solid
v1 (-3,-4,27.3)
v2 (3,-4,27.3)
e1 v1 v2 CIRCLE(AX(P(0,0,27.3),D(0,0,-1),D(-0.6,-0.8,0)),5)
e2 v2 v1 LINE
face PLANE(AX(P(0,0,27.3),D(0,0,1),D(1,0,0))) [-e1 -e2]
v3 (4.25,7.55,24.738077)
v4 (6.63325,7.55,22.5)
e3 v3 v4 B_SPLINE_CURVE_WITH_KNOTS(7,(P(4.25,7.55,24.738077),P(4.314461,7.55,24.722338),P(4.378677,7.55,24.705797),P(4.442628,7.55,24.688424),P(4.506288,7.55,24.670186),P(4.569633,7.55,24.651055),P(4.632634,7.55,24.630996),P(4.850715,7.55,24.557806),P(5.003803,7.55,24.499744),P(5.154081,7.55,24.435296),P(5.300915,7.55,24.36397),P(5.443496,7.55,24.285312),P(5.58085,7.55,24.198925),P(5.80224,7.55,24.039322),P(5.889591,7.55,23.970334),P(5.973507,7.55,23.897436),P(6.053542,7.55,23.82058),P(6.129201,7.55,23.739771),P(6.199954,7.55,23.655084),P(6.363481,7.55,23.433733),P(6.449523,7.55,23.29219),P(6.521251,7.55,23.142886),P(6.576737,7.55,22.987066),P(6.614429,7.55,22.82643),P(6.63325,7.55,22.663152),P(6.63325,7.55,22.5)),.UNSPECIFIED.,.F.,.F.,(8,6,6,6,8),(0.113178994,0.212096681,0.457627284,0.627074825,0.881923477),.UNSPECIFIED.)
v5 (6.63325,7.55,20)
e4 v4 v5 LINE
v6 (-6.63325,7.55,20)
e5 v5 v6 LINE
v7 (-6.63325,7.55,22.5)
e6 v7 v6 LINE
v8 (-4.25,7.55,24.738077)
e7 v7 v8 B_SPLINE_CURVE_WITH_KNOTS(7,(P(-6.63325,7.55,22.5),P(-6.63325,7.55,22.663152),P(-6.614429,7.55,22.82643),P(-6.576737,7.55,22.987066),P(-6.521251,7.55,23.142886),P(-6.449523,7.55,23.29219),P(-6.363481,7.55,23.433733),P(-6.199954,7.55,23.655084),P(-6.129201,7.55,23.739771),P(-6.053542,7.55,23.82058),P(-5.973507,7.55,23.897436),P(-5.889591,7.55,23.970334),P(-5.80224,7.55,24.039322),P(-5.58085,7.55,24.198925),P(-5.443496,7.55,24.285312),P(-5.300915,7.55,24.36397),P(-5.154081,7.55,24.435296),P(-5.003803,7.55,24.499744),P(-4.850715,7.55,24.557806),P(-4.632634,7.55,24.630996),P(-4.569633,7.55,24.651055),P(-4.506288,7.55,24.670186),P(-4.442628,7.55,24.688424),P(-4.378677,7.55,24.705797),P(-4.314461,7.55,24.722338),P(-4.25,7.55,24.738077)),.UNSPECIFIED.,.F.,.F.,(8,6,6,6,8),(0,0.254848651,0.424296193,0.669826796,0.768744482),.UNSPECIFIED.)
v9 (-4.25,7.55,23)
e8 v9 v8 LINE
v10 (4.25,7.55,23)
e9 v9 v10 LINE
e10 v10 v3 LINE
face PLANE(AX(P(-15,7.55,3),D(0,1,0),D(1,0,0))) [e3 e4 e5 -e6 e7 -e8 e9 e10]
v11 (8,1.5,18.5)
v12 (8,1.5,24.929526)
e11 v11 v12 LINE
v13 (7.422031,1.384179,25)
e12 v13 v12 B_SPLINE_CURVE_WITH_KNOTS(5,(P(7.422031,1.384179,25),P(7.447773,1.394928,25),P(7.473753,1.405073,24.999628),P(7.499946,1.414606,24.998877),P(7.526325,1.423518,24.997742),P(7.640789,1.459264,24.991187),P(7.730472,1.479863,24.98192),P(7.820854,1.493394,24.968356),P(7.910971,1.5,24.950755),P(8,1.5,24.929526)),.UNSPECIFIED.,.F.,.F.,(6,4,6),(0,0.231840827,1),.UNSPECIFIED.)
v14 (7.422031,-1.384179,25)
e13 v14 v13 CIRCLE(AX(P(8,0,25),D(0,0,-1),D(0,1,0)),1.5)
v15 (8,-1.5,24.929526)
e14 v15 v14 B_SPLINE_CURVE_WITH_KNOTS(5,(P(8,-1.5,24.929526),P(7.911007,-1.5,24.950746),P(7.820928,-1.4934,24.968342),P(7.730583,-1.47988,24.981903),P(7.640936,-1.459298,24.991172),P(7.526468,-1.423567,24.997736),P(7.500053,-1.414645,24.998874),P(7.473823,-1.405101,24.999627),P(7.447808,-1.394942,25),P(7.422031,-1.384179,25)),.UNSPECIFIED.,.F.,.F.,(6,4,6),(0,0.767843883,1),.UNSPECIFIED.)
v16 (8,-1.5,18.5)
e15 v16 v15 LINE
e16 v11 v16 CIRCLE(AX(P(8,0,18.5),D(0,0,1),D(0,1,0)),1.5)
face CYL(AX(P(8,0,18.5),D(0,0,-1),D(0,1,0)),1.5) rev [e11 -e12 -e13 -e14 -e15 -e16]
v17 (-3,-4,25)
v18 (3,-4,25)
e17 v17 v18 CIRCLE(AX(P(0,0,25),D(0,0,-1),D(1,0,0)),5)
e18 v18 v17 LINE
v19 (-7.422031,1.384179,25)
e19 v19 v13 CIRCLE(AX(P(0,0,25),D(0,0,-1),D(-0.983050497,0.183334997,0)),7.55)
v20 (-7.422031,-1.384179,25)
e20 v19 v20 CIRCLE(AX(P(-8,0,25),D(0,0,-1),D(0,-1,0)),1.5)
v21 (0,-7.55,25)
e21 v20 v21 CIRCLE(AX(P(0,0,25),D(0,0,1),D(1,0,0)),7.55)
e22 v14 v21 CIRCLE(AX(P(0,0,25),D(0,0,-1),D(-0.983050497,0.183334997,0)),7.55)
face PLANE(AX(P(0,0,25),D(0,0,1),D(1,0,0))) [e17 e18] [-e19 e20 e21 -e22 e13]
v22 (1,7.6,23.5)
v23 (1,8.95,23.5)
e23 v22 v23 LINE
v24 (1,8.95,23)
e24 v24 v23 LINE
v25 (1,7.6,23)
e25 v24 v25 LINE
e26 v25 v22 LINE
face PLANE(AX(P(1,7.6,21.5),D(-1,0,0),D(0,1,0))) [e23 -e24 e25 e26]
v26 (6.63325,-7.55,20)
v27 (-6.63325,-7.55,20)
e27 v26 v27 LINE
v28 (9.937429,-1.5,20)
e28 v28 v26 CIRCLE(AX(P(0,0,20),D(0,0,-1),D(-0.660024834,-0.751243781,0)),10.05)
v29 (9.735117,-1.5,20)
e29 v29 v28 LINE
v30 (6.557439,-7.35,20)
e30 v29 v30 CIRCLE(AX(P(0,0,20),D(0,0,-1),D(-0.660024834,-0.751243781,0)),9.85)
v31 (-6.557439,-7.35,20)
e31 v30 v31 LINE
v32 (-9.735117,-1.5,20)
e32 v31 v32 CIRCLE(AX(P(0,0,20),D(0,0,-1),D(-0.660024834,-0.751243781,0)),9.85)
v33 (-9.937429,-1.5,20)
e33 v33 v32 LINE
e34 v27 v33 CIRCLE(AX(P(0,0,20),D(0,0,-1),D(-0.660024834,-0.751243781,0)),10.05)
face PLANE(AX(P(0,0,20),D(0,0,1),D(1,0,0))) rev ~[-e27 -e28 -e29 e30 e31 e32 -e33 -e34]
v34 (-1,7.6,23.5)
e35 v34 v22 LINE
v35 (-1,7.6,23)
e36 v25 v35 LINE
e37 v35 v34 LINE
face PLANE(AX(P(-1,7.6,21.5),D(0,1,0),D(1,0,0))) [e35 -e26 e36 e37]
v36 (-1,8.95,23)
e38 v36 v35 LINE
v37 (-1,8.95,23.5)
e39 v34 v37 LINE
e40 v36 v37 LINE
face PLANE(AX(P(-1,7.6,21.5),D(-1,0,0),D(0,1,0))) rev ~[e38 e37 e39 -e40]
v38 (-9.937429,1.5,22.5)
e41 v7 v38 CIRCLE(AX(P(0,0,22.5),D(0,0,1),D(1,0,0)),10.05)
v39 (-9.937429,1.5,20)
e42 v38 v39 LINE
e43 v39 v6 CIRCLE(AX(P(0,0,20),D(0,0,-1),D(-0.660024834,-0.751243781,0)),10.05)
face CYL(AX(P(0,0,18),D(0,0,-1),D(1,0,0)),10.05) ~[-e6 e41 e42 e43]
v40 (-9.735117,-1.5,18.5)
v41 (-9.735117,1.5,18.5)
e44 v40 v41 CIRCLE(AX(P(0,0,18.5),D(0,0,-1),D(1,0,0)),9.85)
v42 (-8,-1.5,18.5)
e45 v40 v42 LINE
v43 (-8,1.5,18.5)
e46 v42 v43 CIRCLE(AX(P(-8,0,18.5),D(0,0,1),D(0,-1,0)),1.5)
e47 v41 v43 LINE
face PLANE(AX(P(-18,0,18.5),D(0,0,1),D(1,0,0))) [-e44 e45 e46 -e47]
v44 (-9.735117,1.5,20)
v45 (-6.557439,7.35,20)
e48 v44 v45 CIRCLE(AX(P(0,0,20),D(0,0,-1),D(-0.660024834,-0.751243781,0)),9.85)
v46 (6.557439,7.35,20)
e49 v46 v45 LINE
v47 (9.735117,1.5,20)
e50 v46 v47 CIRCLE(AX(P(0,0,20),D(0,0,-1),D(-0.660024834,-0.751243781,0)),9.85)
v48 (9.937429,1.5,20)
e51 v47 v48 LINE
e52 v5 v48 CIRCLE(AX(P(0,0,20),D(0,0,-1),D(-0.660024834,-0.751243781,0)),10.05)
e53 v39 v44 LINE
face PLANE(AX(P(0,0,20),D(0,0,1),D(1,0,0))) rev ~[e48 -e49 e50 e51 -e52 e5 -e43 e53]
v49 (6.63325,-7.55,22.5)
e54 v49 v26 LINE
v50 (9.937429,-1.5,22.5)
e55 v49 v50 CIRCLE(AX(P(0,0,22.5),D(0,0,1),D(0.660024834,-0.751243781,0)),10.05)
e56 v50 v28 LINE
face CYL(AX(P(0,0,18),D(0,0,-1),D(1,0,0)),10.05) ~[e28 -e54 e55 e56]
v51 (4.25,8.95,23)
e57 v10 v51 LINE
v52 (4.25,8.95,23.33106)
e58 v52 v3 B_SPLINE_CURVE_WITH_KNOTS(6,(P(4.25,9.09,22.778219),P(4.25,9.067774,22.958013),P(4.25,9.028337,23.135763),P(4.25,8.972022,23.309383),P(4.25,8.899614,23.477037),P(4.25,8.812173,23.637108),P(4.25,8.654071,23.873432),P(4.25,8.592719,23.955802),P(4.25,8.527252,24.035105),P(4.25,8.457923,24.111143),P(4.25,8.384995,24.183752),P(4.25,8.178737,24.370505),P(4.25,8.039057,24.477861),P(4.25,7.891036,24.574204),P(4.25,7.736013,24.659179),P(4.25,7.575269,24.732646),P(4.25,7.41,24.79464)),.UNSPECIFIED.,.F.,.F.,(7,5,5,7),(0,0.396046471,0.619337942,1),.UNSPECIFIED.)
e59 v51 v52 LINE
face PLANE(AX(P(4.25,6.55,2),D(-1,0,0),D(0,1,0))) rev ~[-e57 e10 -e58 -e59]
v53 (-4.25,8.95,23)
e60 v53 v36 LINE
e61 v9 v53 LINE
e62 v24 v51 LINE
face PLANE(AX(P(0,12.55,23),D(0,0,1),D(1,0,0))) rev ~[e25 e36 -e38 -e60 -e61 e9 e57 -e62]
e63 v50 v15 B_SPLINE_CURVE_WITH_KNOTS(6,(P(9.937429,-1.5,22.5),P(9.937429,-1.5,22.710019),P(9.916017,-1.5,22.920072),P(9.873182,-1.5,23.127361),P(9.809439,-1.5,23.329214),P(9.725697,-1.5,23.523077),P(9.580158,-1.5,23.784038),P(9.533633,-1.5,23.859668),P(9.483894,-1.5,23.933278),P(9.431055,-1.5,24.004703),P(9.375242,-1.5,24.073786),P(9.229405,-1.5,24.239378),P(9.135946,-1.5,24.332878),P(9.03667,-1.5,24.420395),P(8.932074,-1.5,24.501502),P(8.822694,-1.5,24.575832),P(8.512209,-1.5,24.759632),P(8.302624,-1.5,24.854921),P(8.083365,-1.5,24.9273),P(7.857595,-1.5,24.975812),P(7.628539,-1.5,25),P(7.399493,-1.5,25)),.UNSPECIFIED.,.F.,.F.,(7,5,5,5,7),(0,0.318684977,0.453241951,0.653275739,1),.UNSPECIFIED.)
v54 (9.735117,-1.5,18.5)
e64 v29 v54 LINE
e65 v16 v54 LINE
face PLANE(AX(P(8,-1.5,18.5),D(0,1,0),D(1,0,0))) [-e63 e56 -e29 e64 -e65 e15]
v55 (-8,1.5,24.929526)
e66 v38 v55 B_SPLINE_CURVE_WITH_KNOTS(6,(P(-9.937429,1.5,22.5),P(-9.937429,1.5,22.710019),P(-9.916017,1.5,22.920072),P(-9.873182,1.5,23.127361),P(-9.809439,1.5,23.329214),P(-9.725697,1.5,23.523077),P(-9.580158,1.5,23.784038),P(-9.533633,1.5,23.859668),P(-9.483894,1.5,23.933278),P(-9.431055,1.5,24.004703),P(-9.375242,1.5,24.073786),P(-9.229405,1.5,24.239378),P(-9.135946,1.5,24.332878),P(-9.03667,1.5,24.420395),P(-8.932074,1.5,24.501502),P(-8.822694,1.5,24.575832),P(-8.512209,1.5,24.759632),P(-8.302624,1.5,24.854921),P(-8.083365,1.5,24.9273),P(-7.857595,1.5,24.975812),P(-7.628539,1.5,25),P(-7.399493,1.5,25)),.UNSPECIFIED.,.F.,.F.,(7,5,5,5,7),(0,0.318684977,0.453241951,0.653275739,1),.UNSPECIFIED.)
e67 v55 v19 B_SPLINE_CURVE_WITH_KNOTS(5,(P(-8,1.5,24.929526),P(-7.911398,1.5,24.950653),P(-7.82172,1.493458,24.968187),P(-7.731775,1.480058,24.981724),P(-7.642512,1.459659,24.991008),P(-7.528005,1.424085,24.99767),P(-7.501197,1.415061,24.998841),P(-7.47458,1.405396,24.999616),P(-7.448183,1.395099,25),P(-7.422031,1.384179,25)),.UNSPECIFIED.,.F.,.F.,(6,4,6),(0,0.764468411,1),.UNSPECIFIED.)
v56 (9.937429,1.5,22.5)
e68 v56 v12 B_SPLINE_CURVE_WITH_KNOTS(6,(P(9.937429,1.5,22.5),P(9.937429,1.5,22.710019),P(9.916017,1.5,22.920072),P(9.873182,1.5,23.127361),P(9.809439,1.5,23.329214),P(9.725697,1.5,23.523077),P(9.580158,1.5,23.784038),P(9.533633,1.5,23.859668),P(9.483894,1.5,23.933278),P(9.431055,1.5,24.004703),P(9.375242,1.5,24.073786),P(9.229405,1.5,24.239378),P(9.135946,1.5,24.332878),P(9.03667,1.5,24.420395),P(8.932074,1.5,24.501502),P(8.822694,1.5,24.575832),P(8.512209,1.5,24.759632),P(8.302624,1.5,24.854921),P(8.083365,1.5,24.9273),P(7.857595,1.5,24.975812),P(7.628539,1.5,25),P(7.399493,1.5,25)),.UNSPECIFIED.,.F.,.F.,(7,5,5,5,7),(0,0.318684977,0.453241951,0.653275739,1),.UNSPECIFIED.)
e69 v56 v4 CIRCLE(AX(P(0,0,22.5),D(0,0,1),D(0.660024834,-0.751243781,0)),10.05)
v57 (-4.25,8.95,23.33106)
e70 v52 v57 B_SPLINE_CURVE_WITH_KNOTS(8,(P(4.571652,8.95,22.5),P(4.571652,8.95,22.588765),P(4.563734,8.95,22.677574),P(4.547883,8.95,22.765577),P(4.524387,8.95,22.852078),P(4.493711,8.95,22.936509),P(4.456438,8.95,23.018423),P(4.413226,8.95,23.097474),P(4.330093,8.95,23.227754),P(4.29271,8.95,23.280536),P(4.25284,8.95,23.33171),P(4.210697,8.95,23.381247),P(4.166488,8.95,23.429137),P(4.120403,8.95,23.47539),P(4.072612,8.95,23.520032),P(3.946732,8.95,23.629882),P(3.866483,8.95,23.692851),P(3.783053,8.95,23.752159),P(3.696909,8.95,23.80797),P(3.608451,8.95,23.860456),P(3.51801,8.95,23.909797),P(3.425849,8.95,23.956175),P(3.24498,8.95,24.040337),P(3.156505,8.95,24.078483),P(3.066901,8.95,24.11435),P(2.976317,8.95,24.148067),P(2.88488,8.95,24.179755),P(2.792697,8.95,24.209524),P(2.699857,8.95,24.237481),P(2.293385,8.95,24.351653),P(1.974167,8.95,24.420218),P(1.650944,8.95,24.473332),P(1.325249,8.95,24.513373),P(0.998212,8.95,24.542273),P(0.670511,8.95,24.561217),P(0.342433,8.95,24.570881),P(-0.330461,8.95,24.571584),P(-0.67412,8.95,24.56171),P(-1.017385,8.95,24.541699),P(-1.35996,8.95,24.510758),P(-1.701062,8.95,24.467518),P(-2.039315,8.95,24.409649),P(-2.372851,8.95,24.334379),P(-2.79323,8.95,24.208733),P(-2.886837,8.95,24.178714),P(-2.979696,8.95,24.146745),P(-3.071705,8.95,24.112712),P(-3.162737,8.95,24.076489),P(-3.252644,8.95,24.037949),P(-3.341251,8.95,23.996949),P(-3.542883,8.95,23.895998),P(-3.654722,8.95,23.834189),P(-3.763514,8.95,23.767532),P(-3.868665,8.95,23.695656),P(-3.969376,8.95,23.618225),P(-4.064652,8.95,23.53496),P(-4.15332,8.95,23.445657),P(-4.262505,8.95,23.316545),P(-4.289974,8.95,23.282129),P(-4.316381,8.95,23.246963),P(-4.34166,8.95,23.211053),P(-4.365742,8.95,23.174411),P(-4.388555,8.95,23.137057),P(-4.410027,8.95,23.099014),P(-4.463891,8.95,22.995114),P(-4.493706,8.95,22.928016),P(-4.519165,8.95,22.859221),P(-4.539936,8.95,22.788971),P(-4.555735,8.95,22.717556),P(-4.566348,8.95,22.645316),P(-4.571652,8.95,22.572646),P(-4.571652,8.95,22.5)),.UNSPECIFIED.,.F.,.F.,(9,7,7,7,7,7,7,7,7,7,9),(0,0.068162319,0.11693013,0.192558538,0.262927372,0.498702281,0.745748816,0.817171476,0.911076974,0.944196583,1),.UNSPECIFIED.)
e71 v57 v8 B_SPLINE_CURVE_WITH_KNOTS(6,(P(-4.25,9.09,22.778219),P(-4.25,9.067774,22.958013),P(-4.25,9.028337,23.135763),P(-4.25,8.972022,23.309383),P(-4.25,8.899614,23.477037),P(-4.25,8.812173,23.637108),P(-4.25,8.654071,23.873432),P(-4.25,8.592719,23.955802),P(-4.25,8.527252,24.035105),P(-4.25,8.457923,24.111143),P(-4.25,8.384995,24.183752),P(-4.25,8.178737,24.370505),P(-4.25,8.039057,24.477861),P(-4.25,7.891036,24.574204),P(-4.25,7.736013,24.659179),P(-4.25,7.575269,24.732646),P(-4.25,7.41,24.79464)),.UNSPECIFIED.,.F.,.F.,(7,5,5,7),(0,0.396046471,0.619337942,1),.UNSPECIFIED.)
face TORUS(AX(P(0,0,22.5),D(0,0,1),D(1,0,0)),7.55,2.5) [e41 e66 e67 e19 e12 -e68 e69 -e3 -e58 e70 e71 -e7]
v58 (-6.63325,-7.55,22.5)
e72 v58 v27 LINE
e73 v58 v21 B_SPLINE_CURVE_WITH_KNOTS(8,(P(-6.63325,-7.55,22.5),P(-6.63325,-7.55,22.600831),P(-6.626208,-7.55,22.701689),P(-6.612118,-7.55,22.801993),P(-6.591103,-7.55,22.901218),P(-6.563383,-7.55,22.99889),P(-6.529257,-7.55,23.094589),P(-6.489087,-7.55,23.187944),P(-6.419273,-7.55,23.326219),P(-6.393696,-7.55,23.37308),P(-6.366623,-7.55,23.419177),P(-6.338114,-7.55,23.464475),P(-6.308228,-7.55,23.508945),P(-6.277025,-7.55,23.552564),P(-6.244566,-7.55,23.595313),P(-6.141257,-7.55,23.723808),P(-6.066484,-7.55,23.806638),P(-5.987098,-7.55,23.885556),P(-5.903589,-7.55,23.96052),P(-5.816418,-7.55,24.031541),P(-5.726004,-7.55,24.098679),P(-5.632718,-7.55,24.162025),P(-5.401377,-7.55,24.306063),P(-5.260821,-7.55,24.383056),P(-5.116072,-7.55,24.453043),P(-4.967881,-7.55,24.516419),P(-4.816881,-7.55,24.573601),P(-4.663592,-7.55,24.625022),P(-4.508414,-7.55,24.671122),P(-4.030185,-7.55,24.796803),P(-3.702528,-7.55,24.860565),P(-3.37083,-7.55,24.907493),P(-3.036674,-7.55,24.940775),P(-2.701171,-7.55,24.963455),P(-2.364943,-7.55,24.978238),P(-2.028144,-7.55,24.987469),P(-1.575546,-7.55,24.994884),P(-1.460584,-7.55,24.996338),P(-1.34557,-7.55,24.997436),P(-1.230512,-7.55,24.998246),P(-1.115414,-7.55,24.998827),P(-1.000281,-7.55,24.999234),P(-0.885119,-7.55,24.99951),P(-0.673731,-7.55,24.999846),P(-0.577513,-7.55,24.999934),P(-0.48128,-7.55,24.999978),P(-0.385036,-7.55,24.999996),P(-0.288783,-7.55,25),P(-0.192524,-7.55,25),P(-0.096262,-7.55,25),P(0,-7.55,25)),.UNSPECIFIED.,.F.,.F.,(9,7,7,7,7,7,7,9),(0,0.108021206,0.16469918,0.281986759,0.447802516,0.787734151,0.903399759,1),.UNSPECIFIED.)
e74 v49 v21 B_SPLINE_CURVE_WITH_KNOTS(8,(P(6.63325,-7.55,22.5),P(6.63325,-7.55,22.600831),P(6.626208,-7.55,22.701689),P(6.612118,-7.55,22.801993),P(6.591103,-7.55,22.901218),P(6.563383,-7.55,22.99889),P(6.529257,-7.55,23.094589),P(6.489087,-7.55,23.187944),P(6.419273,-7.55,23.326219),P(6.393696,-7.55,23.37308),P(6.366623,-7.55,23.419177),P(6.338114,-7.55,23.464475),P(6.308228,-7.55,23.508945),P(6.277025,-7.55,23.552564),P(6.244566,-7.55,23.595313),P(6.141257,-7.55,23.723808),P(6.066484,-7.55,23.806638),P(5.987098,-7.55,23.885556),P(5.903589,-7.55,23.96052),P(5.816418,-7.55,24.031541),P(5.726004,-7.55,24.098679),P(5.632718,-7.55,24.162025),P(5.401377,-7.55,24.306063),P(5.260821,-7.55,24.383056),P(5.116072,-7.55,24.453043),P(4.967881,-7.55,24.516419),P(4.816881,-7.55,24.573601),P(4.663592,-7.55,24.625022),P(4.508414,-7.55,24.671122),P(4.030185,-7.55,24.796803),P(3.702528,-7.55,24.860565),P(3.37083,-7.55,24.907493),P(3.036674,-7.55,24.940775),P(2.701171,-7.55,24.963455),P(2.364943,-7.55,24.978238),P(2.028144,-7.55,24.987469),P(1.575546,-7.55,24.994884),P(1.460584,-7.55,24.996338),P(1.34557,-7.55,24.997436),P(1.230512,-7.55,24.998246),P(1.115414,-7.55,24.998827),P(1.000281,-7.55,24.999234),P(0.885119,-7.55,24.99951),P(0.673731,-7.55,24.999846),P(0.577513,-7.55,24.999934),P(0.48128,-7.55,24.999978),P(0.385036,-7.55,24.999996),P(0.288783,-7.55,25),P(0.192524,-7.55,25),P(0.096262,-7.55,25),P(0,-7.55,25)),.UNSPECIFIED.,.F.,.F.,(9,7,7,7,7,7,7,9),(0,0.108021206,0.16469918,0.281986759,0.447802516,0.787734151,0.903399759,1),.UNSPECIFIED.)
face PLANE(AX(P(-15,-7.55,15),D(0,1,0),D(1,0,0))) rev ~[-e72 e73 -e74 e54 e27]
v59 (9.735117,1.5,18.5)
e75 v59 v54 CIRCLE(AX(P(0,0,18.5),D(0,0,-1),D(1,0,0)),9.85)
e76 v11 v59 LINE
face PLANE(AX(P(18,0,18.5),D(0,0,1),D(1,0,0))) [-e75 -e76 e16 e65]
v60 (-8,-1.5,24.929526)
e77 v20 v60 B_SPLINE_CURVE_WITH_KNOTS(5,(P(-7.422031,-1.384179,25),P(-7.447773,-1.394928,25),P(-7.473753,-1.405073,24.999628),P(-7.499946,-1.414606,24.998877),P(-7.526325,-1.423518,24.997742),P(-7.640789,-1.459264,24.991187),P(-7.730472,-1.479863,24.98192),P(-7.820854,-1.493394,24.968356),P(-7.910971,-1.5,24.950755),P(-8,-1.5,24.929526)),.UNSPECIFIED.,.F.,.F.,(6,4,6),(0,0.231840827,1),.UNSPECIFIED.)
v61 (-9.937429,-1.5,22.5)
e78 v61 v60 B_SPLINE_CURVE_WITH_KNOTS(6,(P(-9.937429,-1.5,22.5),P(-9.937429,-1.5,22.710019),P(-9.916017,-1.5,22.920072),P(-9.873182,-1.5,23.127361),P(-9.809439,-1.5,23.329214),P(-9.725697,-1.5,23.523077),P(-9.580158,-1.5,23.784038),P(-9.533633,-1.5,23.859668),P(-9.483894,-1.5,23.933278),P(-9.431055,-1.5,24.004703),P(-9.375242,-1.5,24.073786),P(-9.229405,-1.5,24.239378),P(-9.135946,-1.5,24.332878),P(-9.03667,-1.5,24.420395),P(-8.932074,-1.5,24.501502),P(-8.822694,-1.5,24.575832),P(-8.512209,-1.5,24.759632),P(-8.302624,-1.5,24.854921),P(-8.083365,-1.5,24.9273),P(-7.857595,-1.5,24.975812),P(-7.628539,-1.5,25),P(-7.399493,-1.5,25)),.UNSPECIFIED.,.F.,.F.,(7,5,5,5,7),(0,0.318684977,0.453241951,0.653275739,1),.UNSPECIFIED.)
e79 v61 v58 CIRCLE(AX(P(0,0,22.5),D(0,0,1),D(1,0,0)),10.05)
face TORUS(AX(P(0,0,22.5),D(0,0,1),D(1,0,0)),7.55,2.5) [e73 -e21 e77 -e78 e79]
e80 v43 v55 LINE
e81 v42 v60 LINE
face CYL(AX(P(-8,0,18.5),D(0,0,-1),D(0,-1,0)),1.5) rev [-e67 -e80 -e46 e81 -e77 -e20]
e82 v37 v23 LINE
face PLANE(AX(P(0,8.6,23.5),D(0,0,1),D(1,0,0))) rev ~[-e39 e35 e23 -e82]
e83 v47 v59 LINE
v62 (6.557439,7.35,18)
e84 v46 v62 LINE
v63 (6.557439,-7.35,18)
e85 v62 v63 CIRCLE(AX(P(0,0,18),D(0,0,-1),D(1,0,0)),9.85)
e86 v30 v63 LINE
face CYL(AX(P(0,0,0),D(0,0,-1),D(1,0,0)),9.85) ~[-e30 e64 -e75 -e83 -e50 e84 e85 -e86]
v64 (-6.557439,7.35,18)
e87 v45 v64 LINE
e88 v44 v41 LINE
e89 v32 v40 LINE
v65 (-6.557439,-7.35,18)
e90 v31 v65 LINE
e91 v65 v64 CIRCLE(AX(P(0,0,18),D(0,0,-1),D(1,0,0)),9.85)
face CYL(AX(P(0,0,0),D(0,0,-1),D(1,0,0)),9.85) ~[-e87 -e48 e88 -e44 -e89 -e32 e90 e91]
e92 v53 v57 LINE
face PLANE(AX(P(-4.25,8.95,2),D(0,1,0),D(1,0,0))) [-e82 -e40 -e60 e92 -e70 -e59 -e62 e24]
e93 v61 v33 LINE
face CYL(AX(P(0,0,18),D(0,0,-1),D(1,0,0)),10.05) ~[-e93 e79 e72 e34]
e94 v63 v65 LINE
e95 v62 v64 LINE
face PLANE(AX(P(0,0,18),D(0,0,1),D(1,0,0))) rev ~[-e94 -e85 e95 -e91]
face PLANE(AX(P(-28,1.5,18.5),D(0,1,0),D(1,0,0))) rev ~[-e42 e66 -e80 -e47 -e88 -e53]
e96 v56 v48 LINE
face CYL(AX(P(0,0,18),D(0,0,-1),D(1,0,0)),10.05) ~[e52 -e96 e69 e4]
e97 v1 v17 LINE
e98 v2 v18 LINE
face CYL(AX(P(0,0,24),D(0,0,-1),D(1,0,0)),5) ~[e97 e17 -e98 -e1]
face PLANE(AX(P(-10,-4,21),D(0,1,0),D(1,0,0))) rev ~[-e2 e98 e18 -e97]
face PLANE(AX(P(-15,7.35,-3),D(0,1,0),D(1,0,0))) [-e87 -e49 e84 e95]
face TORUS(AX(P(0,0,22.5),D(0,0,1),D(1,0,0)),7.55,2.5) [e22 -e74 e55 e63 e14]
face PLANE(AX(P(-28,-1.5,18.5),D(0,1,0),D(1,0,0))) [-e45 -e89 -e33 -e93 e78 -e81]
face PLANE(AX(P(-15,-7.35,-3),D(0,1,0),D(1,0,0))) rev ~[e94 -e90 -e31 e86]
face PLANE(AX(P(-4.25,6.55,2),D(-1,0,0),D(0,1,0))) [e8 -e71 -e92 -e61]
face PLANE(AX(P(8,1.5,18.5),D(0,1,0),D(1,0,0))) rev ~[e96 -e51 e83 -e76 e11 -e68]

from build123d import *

# Parameters (mm, degrees)
BOX010_W          = 30
BOX010_H          = 10
BOX010_DEPTH      = 30
BOX011_W          = 30
BOX011_H          = 10
BOX011_DEPTH      = 30
CYLINDER003_R     = 10.05
CYLINDER003_DEPTH = 20
FILLET002_R       = 2
THICKNESS_T       = -0.2
BOX017_W          = 20
BOX017_H          = 10
BOX017_DEPTH      = 10
CYLINDER005_R     = 5
CYLINDER005_DEPTH = 3.3
PAD002_DEPTH      = 20
BOX016_W          = 2
BOX016_H          = 2
BOX016_DEPTH      = 2
BOX015_W          = 30
BOX015_H          = 10
BOX015_DEPTH      = 30
BOX013_W          = 30
BOX013_H          = 10
BOX013_DEPTH      = 30
BOX014_W          = 8.5
BOX014_H          = 2.4
BOX014_DEPTH      = 44
BOX012_W          = 30
BOX012_H          = 10
BOX012_DEPTH      = 30
CYLINDER004_R     = 10.05
CYLINDER004_DEPTH = 7
FILLET003_R       = 2.5


with BuildPart() as cubo011:
    # Box010 → Box010 (new body)
    with BuildSketch(Plane(origin=(-15, 7.55, -3), x_dir=(1, 0, 0), z_dir=(0, 0, 1))):
        with Locations((15, 5)):
            Rectangle(BOX010_W, BOX010_H)
    extrude(amount=BOX010_DEPTH)


with BuildPart() as cubo012:
    # Box011 → Box011 (new body)
    with BuildSketch(Plane(origin=(-15, -17.55, -3), x_dir=(1, 0, 0), z_dir=(0, 0, 1))):
        with Locations((15, 5)):
            Rectangle(BOX011_W, BOX011_H)
    extrude(amount=BOX011_DEPTH)


with BuildPart() as thickness:
    # Cylinder003 → Cylinder003 (new body)
    with BuildSketch(Plane.XY):
        Circle(CYLINDER003_R)
    extrude(amount=CYLINDER003_DEPTH)

    # Fillet002
    fillet002_edges = [thickness.edges().sort_by_distance(p)[0] for p in [
        (-10.05, 0, 0),
    ]]
    fillet(fillet002_edges, radius=FILLET002_R)

    # Cut010: cut Cubo012
    add(cubo012.part, mode=Mode.SUBTRACT)

    # Cut011: cut Cubo011
    add(cubo011.part, mode=Mode.SUBTRACT)

    # Thickness
    thickness_openings = [thickness.faces().sort_by_distance(p)[0] for p in [
        (0, 0, 20),
    ]]
    offset(amount=THICKNESS_T, openings=thickness_openings)


with BuildPart() as cubo018:
    # Box017 → Box017 (new body)
    with BuildSketch(Plane(origin=(-10, -14, -3), x_dir=(1, 0, 0), z_dir=(0, 0, 1))):
        with Locations((10, 5)):
            Rectangle(BOX017_W, BOX017_H)
    extrude(amount=BOX017_DEPTH)


with BuildPart() as partefinal001:
    # Cylinder005 → Cylinder005 (new body)
    with BuildSketch(Plane.XY):
        Circle(CYLINDER005_R)
    extrude(amount=CYLINDER005_DEPTH)

    # Cut017: cut Cubo018
    add(cubo018.part, mode=Mode.SUBTRACT)


with BuildPart() as partefinal001_1:
    # Cut017 placement: moved
    add(partefinal001.part.moved(Location((0, 0, 6))))


with BuildPart() as pad002:
    # Sketch002 → Pad002 (new body)
    with BuildSketch(Plane.XY):
        with BuildLine():
            ThreePointArc((-10, 1.5), (-11.5, 0), (-10, -1.5))
            Line((-10, -1.5), (10, -1.5))
            ThreePointArc((10, -1.5), (11.5, 0), (10, 1.5))
            Line((-10, 1.5), (10, 1.5))
        make_face()
    extrude(amount=PAD002_DEPTH)


with BuildPart() as clone_of_pad004:
    # Clone004 base: copy of Pad002
    add(pad002.part)


with BuildPart() as clone_of_pad004_1:
    # Clone004 placement: moved
    add(clone_of_pad004.part.moved(Location((18, 0, 0.5))))


with BuildPart() as clone_of_pad003:
    # Clone003 base: copy of Pad002
    add(pad002.part)


with BuildPart() as clone_of_pad003_1:
    # Clone003 placement: moved
    add(clone_of_pad003.part.moved(Location((-18, 0, 0.5))))


with BuildPart() as cubo017:
    # Box016 → Box016 (new body)
    with BuildSketch(Plane(origin=(-1, 7.6, 3.5), x_dir=(1, 0, 0), z_dir=(0, 0, 1))):
        with Locations((1, 1)):
            Rectangle(BOX016_W, BOX016_H)
    extrude(amount=BOX016_DEPTH)


with BuildPart() as cubo016:
    # Box015 → Box015 (new body)
    with BuildSketch(Plane(origin=(-15, 7.55, -25), x_dir=(1, 0, 0), z_dir=(0, 0, 1))):
        with Locations((15, 5)):
            Rectangle(BOX015_W, BOX015_H)
    extrude(amount=BOX015_DEPTH)


with BuildPart() as cubo014:
    # Box013 → Box013 (new body)
    with BuildSketch(Plane(origin=(-15, -17.55, -3), x_dir=(1, 0, 0), z_dir=(0, 0, 1))):
        with Locations((15, 5)):
            Rectangle(BOX013_W, BOX013_H)
    extrude(amount=BOX013_DEPTH)


with BuildPart() as cubo015:
    # Box014 → Box014 (new body)
    with BuildSketch(Plane(origin=(-4.25, 6.55, -4), x_dir=(1, 0, 0), z_dir=(0, 0, 1))):
        with Locations((4.25, 1.2)):
            Rectangle(BOX014_W, BOX014_H)
    extrude(amount=BOX014_DEPTH)


with BuildPart() as cut012:
    # Box012 → Box012 (new body)
    with BuildSketch(Plane(origin=(-15, 7.55, -3), x_dir=(1, 0, 0), z_dir=(0, 0, 1))):
        with Locations((15, 5)):
            Rectangle(BOX012_W, BOX012_H)
    extrude(amount=BOX012_DEPTH)

    # Cut012: cut Cubo015
    add(cubo015.part, mode=Mode.SUBTRACT)


with BuildPart() as cut012_1:
    # Cut012 placement: moved
    add(cut012.part.moved(Location((0, 0, -12))))


with BuildPart() as tapa:
    # Cylinder004 → Cylinder004 (new body)
    with BuildSketch(Plane.XY):
        Circle(CYLINDER004_R)
    extrude(amount=CYLINDER004_DEPTH)

    # Fillet003
    fillet003_edges = [tapa.edges().sort_by_distance(p)[0] for p in [
        (-10.05, 0, 7),
    ]]
    fillet(fillet003_edges, radius=FILLET003_R)

    # Cut013: cut Cut012
    add(cut012_1.part, mode=Mode.SUBTRACT)

    # Cut014: cut Cubo014
    add(cubo014.part, mode=Mode.SUBTRACT)

    # Cut015: cut Cubo016
    add(cubo016.part, mode=Mode.SUBTRACT)

    # Cut016: cut Cubo017
    add(cubo017.part, mode=Mode.SUBTRACT)

    # Cut018: cut Clone of Pad003
    add(clone_of_pad003_1.part, mode=Mode.SUBTRACT)

    # Cut019: cut Clone of Pad004
    add(clone_of_pad004_1.part, mode=Mode.SUBTRACT)

    # Fusion002: union parteFinal001
    add(partefinal001_1.part)


with BuildPart() as tapa_1:
    # Fusion002 placement: moved
    add(tapa.part.moved(Location((0, 0, 18))))

    # Cut020: cut Thickness
    add(thickness.part, mode=Mode.SUBTRACT)


solid = tapa_1.part
